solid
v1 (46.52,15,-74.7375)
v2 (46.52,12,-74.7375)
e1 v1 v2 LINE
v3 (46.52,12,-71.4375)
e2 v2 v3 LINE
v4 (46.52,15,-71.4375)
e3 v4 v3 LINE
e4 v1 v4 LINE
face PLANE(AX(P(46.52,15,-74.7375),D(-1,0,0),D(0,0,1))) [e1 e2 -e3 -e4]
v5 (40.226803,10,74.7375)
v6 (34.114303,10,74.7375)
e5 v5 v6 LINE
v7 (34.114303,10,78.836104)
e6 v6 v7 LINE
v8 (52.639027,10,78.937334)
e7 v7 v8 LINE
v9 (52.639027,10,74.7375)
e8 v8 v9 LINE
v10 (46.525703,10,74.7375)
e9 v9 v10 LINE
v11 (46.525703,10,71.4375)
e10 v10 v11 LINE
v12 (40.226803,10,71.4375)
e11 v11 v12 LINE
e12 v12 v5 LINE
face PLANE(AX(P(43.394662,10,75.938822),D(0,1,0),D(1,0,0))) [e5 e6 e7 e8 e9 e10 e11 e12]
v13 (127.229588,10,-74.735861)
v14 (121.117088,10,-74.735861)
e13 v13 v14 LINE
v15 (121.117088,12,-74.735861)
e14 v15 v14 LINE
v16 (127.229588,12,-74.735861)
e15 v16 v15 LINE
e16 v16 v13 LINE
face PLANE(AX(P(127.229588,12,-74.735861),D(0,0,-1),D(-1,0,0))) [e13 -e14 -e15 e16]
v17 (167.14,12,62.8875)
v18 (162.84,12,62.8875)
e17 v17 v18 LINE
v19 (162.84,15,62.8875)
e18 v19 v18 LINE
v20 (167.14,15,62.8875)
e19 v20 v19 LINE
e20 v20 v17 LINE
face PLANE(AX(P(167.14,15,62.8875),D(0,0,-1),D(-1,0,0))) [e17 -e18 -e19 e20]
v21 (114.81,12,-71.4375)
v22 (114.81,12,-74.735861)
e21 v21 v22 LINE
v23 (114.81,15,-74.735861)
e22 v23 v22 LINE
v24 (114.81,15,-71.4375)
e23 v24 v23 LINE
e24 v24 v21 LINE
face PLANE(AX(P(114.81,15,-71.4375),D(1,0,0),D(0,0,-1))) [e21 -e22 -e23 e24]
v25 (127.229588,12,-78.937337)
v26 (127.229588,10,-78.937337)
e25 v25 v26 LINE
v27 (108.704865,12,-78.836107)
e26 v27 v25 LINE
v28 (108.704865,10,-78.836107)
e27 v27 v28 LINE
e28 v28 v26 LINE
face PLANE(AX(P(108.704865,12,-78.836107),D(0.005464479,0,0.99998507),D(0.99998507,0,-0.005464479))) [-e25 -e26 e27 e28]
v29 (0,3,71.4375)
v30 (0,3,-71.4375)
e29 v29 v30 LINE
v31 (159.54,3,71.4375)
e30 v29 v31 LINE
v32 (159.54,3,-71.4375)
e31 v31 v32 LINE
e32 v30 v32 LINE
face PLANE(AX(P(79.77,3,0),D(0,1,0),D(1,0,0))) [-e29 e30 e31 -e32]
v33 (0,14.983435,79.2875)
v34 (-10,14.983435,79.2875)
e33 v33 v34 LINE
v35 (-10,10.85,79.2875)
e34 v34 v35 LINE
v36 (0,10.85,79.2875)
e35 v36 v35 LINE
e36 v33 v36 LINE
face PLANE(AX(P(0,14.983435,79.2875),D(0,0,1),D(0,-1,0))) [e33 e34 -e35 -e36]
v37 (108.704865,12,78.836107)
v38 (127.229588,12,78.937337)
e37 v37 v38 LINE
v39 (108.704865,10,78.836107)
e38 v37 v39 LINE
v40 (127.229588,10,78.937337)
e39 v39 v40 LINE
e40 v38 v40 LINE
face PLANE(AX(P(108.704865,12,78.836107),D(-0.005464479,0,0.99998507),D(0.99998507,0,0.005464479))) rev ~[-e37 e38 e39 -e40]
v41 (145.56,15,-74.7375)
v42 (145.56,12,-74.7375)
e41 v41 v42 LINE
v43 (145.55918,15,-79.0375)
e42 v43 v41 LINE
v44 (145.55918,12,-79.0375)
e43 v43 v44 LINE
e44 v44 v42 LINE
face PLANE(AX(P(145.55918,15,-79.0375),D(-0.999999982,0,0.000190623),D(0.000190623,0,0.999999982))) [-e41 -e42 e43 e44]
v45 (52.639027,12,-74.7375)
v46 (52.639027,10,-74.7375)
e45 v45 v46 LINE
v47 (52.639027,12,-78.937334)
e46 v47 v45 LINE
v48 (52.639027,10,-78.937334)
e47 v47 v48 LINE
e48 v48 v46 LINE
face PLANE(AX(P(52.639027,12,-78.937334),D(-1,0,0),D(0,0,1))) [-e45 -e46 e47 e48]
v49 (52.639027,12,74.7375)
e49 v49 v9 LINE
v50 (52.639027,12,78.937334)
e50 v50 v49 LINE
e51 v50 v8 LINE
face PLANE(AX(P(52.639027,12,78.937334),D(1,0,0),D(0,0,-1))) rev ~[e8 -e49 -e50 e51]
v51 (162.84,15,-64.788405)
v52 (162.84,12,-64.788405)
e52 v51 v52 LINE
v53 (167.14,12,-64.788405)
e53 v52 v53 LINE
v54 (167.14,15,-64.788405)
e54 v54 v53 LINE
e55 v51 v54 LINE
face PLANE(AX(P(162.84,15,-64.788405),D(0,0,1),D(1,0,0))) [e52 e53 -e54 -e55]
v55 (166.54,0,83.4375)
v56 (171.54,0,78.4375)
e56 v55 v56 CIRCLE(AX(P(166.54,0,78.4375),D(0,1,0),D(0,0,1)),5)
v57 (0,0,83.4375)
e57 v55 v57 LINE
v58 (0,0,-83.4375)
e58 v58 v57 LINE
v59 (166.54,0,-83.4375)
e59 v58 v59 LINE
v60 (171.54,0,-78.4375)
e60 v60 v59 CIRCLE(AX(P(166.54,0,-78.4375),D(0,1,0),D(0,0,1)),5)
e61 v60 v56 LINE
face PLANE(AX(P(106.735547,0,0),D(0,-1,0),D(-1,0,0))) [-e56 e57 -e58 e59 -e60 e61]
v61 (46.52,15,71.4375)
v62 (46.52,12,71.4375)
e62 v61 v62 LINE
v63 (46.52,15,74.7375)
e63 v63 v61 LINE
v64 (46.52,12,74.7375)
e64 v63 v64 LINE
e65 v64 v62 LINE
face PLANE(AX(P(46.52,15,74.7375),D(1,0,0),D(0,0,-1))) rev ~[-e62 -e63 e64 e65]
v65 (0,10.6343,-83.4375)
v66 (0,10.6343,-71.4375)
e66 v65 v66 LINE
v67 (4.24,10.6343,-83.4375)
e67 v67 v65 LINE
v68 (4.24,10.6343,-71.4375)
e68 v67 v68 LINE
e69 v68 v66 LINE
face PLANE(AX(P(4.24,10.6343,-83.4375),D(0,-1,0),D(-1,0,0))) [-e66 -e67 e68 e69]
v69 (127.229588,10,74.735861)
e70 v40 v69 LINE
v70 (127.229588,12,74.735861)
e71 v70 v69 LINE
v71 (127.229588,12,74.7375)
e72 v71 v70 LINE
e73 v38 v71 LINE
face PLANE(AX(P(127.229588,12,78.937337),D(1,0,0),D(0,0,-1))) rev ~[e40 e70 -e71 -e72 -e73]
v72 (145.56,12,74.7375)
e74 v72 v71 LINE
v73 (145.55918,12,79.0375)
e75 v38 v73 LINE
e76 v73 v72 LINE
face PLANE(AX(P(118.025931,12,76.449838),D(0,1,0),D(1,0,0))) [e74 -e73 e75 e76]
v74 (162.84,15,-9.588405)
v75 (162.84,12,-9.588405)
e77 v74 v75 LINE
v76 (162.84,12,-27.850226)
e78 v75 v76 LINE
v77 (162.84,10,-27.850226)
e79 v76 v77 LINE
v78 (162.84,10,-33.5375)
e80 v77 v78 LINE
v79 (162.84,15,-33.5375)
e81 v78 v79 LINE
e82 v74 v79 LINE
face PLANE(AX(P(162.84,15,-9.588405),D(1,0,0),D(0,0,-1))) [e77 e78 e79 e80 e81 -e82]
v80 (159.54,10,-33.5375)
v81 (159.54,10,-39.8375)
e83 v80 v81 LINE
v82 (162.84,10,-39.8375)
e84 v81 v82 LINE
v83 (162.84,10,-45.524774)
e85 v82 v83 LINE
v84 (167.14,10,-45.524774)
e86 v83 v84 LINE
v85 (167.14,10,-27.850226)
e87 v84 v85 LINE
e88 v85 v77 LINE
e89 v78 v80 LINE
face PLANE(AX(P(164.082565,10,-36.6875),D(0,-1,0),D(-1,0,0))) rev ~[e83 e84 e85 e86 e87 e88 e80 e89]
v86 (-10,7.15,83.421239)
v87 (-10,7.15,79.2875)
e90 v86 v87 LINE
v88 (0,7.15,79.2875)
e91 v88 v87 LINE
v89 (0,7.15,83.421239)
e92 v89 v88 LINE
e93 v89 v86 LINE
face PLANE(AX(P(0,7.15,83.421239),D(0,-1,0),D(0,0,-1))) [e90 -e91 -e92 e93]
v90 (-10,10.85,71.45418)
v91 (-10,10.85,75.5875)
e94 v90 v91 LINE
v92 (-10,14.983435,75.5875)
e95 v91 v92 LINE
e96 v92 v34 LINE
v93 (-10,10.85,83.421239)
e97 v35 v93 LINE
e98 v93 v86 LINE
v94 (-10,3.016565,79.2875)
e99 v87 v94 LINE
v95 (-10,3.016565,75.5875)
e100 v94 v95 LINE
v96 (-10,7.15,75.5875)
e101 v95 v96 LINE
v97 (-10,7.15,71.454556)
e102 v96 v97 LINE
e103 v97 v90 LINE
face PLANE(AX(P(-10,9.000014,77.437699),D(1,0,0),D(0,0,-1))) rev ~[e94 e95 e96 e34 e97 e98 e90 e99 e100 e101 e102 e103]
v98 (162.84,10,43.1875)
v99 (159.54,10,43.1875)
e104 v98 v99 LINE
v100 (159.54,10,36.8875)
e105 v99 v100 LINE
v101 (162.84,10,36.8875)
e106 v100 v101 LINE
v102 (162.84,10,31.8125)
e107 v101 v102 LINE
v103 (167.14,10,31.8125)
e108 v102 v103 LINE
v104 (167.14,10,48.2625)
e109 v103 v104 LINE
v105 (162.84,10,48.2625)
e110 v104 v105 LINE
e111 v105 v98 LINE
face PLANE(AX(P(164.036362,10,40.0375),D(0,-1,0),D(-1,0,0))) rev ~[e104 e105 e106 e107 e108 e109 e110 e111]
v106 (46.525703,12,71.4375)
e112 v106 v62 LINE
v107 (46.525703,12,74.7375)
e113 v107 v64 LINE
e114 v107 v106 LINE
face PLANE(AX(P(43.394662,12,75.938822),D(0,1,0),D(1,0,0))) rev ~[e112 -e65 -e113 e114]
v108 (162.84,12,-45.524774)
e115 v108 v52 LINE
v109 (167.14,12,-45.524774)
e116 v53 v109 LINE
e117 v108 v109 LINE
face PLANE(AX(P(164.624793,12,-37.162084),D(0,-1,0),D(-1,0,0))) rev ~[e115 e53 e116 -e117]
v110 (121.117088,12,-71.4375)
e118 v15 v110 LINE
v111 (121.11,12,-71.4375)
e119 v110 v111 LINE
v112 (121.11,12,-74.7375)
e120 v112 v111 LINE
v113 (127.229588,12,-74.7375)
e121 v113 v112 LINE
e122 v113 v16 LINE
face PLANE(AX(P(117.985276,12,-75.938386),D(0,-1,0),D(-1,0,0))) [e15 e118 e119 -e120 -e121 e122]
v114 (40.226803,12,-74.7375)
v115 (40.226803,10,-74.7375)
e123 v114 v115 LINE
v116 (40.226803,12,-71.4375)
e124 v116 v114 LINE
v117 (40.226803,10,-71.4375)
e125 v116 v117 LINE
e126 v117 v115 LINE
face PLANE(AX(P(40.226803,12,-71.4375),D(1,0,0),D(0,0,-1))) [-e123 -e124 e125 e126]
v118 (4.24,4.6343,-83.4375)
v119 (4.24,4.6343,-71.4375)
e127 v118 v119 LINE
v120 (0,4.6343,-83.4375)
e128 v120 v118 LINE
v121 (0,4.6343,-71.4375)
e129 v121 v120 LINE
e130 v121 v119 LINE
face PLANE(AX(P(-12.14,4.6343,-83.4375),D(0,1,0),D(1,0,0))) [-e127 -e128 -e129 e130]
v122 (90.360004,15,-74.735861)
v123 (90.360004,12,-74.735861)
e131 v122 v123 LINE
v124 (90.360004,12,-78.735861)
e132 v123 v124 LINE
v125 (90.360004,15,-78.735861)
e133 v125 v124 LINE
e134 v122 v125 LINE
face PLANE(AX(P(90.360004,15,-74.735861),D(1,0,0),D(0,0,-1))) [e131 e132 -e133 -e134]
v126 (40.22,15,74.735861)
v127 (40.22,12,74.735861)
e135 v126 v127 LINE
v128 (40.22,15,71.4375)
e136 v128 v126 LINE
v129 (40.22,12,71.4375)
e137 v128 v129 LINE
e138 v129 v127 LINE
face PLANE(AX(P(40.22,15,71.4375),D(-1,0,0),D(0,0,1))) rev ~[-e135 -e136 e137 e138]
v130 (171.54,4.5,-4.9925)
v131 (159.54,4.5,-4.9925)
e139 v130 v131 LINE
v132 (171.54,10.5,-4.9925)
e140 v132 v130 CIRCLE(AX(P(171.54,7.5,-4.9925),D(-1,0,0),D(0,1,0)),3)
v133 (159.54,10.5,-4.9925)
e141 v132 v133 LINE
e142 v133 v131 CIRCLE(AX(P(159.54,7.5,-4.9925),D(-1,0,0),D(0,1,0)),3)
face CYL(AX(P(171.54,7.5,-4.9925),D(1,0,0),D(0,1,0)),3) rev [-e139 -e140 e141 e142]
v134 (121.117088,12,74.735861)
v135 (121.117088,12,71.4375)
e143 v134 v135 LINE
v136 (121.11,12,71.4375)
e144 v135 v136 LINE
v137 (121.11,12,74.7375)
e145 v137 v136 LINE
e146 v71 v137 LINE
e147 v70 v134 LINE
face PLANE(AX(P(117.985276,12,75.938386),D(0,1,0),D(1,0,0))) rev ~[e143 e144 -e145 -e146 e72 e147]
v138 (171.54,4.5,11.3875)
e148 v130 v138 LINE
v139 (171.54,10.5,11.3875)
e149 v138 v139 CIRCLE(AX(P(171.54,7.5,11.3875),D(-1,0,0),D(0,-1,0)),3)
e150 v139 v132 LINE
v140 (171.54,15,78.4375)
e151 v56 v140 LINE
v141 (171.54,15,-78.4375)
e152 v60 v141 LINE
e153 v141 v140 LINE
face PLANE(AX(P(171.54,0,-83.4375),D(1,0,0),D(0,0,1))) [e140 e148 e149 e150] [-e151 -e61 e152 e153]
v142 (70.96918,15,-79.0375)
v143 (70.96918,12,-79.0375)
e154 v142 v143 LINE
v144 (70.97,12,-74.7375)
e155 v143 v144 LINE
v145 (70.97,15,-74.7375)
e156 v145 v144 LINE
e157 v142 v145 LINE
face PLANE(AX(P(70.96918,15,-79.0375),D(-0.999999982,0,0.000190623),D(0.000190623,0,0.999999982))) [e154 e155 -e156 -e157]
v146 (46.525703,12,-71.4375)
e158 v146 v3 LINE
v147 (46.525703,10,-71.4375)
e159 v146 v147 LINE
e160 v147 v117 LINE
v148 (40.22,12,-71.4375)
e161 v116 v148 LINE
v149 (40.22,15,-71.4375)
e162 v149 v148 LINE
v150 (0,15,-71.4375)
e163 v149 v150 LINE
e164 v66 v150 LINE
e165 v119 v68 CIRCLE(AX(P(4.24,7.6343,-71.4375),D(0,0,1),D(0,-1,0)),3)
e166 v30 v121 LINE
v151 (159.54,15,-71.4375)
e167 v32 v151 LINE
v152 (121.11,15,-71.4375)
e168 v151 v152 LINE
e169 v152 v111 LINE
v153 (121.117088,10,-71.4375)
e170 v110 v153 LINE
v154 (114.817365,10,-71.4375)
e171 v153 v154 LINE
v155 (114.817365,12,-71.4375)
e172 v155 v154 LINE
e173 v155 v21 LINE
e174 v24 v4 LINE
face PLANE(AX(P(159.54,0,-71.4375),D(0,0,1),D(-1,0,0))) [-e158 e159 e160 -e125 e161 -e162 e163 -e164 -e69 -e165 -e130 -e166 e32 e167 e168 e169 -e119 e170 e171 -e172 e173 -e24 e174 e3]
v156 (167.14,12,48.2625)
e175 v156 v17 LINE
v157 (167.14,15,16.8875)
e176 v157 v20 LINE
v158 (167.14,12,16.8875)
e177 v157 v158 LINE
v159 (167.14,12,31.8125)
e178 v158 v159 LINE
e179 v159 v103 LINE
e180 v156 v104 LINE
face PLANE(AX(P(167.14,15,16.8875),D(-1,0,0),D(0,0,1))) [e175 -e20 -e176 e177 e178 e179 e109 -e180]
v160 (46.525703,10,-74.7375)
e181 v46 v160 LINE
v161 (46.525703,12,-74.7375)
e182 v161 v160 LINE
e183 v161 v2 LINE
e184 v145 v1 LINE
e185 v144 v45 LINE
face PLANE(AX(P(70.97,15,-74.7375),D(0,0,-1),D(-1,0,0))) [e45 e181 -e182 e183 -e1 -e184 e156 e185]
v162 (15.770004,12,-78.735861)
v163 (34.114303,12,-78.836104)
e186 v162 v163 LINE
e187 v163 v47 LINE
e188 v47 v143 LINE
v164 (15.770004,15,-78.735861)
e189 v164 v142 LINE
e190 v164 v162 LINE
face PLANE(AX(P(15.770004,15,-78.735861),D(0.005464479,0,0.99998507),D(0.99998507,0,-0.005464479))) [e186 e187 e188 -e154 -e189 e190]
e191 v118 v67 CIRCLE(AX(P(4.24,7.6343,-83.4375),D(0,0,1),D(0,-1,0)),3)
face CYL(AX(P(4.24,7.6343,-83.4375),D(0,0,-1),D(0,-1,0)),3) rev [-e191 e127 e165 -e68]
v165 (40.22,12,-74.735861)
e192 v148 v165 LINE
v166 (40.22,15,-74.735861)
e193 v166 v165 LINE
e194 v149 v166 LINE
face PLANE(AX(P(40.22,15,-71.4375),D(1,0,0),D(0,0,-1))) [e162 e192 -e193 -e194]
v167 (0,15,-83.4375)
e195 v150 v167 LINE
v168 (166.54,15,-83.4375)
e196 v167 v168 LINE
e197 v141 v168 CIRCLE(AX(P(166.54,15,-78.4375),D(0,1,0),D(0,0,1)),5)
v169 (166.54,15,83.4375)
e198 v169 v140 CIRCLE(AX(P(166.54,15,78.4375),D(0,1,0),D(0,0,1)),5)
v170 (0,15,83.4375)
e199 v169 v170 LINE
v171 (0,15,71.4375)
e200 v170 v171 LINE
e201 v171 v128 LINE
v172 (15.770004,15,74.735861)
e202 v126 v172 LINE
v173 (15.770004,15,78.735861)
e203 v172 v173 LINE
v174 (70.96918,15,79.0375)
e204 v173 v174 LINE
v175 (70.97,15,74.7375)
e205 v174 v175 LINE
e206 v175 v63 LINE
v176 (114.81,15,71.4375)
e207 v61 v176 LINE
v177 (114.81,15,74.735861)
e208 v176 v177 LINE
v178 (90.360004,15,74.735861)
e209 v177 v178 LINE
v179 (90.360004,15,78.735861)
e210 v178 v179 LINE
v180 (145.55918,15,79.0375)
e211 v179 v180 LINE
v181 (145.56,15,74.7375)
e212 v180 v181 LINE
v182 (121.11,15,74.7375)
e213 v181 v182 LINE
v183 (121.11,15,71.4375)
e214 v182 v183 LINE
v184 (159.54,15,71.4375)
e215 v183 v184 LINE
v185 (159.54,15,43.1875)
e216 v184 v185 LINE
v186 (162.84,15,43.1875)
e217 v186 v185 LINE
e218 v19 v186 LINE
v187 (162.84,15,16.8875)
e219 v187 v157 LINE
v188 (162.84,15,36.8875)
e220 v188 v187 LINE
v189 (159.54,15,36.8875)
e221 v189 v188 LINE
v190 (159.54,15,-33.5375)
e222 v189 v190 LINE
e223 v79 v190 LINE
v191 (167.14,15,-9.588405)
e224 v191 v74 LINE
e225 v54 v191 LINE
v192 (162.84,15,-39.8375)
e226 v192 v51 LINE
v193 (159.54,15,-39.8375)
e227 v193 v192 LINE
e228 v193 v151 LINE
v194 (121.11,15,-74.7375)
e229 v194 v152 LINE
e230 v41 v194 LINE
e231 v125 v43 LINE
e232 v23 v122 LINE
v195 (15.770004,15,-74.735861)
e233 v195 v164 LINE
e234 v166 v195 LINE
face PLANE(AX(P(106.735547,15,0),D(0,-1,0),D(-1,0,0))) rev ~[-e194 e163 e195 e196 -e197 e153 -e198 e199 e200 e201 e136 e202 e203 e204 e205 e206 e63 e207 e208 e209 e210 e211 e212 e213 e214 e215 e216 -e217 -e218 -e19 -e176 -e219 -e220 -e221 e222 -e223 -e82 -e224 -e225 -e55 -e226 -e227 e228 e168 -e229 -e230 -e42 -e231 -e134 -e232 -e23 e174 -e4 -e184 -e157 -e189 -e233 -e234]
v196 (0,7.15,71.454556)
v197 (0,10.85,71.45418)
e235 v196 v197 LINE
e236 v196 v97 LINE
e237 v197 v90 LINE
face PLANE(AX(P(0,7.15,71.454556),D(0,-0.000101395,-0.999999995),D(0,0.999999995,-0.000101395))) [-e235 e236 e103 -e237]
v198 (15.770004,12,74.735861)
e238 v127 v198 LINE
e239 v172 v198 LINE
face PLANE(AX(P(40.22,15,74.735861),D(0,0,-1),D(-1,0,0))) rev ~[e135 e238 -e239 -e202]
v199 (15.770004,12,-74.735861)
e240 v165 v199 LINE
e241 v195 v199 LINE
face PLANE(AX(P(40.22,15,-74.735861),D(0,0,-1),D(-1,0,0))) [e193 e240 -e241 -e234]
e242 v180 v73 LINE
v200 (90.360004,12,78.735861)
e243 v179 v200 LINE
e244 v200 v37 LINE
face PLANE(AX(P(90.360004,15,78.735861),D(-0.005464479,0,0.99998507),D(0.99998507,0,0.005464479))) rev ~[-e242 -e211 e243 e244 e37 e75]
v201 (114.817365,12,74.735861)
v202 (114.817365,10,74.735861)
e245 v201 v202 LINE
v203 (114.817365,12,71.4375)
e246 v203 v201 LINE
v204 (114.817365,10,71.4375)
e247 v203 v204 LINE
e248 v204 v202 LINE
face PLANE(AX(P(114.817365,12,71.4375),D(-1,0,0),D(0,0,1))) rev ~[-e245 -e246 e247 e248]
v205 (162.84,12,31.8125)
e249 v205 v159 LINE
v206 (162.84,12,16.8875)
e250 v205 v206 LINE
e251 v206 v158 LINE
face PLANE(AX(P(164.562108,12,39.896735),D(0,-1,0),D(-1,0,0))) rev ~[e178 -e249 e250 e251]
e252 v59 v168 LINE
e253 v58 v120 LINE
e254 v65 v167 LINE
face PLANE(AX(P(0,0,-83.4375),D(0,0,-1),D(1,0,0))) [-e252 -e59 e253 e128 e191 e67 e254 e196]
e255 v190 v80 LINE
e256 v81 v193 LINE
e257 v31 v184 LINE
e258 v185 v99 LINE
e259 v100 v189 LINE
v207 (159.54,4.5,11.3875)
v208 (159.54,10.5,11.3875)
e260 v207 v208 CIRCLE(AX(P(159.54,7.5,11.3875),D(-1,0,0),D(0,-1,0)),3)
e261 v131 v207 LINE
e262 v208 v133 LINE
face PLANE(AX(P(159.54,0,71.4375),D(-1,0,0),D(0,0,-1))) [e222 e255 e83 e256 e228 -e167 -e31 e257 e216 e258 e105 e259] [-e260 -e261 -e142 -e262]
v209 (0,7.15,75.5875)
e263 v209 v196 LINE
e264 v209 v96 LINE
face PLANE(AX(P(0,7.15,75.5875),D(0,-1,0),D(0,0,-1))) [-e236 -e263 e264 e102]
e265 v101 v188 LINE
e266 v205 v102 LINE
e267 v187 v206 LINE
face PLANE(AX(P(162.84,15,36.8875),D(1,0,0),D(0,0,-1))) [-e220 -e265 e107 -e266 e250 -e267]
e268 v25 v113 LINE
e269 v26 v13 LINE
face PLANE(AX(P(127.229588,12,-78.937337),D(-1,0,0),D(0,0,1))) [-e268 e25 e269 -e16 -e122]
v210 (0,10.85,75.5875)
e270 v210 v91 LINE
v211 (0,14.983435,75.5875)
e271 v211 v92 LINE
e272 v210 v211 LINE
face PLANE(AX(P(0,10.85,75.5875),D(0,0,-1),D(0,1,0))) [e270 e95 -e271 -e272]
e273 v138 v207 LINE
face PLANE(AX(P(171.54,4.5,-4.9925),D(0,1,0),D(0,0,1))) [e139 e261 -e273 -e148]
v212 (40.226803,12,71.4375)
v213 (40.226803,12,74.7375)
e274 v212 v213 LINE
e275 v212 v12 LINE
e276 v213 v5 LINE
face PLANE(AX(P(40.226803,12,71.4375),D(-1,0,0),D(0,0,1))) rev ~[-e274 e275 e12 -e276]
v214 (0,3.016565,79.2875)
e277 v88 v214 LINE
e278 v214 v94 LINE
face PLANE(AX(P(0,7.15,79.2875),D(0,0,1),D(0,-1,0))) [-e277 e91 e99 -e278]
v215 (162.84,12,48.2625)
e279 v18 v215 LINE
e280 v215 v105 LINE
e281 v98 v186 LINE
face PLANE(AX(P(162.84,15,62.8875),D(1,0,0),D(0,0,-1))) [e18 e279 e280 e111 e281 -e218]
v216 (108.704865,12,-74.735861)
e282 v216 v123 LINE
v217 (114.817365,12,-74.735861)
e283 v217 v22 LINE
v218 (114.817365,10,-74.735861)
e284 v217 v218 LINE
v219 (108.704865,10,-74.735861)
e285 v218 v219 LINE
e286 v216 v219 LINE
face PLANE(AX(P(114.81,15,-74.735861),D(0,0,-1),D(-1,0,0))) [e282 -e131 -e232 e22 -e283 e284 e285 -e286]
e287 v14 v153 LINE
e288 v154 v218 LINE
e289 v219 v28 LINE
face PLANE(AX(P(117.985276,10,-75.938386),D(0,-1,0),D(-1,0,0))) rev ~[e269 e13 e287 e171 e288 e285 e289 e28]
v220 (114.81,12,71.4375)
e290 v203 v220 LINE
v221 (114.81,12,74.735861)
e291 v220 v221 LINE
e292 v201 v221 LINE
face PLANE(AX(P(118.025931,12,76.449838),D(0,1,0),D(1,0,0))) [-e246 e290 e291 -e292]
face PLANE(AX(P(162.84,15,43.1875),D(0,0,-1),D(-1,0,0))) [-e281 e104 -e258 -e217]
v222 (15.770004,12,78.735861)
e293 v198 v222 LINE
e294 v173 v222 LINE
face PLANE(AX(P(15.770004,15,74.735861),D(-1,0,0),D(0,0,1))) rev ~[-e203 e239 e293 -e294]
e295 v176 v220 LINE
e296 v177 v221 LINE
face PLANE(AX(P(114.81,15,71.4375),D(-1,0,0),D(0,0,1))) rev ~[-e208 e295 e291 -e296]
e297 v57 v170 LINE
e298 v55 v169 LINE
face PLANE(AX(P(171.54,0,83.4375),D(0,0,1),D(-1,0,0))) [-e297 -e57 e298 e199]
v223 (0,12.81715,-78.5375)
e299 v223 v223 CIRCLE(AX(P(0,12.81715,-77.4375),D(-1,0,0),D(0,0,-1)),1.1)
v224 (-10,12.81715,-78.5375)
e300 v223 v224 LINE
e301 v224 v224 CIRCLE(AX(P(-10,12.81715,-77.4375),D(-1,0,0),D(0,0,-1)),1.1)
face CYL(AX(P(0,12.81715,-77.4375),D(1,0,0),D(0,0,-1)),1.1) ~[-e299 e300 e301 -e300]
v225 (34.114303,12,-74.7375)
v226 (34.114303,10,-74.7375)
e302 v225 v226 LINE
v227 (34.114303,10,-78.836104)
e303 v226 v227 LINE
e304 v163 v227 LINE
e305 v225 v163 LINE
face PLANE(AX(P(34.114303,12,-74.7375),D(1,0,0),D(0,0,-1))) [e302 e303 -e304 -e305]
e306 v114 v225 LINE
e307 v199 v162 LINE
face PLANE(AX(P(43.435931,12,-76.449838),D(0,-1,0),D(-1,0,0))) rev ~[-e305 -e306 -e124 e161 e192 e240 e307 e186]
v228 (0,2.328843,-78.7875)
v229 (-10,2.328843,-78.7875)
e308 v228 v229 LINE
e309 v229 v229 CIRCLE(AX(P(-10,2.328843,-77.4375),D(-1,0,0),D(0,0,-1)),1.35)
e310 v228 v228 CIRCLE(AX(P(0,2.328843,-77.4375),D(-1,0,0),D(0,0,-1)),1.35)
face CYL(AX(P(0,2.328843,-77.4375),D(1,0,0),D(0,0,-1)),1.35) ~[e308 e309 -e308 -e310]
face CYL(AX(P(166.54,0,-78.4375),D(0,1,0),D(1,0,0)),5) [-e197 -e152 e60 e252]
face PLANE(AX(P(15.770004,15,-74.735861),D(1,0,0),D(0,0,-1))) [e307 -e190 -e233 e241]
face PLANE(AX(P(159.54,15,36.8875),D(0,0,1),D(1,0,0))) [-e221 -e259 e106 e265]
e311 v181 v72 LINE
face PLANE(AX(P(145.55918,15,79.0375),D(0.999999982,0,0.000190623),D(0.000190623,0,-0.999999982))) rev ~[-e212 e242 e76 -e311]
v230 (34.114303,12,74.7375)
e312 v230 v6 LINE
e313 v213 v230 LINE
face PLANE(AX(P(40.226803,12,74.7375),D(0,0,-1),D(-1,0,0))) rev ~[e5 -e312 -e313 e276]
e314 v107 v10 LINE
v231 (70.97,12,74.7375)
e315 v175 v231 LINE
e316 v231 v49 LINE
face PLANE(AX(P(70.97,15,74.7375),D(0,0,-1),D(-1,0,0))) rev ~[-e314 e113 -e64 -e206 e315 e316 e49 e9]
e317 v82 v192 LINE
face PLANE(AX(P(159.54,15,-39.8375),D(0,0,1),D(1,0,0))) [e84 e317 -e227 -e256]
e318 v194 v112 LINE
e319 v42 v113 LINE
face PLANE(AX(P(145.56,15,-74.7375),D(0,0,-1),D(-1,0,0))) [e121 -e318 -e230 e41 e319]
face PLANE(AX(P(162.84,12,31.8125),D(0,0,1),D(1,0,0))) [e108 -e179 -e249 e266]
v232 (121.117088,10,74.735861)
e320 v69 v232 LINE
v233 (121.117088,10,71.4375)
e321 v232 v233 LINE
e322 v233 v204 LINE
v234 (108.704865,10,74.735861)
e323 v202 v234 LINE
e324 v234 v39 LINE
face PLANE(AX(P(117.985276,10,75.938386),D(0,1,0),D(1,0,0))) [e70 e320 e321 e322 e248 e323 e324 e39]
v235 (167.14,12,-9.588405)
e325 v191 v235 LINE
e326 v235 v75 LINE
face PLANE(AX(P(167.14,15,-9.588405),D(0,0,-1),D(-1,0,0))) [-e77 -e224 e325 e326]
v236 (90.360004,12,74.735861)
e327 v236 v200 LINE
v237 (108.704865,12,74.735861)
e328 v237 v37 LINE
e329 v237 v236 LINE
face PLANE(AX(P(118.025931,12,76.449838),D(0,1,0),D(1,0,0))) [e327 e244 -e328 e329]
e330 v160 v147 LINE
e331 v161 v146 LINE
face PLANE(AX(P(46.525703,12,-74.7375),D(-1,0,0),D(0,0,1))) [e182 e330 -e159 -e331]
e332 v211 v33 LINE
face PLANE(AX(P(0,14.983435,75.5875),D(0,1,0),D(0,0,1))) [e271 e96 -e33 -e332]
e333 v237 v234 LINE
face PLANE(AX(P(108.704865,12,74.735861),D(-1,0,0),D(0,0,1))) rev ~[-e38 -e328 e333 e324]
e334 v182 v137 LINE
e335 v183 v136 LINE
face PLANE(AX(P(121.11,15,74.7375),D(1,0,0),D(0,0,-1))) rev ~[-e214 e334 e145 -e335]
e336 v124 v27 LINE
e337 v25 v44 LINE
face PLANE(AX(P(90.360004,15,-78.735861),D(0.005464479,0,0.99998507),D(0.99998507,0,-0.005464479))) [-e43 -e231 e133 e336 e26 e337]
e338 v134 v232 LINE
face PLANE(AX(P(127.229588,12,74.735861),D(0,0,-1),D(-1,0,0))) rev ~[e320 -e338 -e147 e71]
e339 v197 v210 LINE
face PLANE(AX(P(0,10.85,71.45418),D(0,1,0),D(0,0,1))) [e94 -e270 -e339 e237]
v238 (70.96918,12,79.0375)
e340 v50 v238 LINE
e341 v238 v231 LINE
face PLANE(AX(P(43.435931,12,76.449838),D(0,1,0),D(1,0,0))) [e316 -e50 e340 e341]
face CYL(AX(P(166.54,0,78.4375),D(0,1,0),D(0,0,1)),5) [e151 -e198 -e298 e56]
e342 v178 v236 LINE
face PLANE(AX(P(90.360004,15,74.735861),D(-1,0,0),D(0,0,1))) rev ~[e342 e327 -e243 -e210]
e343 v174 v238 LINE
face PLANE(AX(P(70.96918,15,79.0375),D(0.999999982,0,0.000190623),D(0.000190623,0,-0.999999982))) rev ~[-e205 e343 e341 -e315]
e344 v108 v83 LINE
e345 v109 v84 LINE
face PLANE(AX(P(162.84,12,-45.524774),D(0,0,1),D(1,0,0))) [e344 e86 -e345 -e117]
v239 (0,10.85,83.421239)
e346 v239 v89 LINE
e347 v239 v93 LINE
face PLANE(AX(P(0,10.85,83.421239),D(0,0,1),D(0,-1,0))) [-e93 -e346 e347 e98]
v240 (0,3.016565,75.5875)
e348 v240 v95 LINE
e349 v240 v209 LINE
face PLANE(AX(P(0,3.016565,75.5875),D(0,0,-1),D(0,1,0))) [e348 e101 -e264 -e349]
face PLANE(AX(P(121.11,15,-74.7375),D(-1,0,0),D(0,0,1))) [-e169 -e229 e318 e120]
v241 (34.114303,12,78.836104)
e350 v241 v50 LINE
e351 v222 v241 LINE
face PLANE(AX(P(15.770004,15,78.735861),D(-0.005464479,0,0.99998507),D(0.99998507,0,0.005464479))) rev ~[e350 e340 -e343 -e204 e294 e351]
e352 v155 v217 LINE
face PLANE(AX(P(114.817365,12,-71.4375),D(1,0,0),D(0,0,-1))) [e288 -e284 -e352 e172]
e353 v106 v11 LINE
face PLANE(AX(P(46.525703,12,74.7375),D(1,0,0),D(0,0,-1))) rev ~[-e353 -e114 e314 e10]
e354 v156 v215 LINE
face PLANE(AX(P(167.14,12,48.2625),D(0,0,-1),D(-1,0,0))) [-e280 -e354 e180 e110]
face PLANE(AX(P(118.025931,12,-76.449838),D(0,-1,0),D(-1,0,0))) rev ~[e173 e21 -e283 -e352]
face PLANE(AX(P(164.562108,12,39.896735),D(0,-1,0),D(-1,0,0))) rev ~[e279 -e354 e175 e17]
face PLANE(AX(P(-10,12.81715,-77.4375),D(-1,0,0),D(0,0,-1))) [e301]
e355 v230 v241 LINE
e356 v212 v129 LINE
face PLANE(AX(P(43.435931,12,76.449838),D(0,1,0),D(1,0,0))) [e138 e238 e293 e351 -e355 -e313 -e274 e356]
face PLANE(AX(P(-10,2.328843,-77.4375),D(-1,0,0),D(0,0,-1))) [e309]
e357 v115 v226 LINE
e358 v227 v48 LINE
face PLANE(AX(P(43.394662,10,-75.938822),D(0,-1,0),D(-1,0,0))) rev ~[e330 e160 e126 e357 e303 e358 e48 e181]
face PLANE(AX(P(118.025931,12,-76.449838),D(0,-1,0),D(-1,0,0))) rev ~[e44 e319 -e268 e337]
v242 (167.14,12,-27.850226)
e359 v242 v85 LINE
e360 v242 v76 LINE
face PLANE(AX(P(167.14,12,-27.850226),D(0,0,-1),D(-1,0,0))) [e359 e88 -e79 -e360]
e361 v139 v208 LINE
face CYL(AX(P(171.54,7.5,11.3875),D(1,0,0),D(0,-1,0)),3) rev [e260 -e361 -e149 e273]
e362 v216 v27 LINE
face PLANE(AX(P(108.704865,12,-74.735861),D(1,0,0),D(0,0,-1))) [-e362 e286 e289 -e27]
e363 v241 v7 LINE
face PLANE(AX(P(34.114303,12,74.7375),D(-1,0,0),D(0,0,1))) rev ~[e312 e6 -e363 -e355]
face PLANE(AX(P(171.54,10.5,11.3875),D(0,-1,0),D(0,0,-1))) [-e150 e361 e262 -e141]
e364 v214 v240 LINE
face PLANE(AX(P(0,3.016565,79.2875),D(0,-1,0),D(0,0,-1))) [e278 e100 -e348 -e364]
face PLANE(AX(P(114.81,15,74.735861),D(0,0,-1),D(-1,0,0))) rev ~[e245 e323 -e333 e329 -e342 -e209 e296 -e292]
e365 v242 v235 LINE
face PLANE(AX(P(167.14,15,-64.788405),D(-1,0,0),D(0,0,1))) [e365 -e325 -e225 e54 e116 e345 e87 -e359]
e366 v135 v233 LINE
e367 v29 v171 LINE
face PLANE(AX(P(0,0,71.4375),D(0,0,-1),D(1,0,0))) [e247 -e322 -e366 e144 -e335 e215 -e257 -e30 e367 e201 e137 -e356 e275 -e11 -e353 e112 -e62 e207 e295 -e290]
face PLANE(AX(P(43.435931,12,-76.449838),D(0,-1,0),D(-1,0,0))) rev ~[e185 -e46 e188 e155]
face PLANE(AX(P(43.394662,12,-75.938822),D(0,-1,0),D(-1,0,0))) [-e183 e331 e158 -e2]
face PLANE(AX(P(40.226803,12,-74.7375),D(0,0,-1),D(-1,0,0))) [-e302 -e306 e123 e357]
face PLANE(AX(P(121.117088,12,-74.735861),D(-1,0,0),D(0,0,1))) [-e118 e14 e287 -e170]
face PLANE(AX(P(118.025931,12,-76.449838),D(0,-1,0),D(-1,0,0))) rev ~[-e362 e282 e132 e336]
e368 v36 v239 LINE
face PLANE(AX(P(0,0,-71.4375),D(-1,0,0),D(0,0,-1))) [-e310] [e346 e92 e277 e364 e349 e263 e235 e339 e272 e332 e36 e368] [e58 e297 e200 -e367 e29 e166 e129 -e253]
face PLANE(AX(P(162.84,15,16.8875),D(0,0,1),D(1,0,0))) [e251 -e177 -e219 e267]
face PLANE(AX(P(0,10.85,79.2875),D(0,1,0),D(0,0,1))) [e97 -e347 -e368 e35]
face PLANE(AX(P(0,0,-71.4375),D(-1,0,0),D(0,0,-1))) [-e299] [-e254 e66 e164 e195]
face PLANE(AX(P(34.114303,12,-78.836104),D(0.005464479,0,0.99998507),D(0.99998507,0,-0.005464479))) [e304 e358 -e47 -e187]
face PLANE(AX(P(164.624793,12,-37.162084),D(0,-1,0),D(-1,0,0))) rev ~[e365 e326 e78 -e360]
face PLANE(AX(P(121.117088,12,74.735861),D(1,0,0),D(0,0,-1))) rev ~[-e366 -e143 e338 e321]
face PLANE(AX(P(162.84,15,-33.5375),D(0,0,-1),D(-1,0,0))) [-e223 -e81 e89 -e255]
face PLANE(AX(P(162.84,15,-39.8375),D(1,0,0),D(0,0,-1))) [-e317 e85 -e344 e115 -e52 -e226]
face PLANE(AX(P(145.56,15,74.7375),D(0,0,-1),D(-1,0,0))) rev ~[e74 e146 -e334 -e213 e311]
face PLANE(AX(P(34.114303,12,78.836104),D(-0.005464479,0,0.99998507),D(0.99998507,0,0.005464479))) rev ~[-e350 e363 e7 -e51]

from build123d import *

# Parameters (mm, degrees)
SKETCH1_W           = 159.54
SKETCH1_H           = 142.875
BOSS_EXTRUDE1_DEPTH = 3
BOSS_EXTRUDE2_DEPTH = 15
CUT_EXTRUDE1_DEPTH  = 3
CUT_EXTRUDE2_DEPTH  = 2
CUT_EXTRUDE3_DEPTH  = 12
CUT_EXTRUDE4_DEPTH  = 12
SKETCH8_R           = 1.1
SKETCH8_R_2         = 1.35
BOSS_EXTRUDE3_DEPTH = 10
BOSS_EXTRUDE5_DEPTH = 10
FILLET3_R           = 5
FILLET4_R           = 5


with BuildPart() as part:
    # Sketch1 → Boss-Extrude1 (new body)
    with BuildSketch(Plane(origin=(0, 0, 0), x_dir=(1, 0, 0), z_dir=(0, 1, 0))):
        with Locations((79.77, 0)):
            Rectangle(SKETCH1_W, SKETCH1_H)
    extrude(amount=BOSS_EXTRUDE1_DEPTH)

    # Sketch3 → Boss-Extrude2 (add)
    with BuildSketch(Plane(origin=(0, 0, 0), x_dir=(1, 0, 0), z_dir=(0, 1, 0))):
        Polygon((0, 71.4375), (0, 83.4375), (171.54, 83.4375), (171.54, -83.4375), (0, -83.4375), (0, -71.4375), (159.54, -71.4375), (159.54, 71.4375), align=None)
    extrude(amount=BOSS_EXTRUDE2_DEPTH)

    # Sketch4 → Cut-Extrude1 (cut)
    with BuildSketch(Plane(origin=(0, 15, 0), x_dir=(1, 0, 0), z_dir=(0, 1, 0))):
        Polygon((46.52, 74.7375), (46.52, 71.4375), (40.22, 71.4375), (40.22, 74.735860656), (15.770004479, 74.735860656), (15.770004479, 78.735860656), (70.969180322, 79.037499922), (70.97, 74.7375), align=None)
        Polygon((121.11, 74.7375), (121.11, 71.4375), (114.81, 71.4375), (114.81, 74.735860656), (90.360004479, 74.735860656), (90.360004479, 78.735860656), (145.559180322, 79.037499922), (145.56, 74.7375), align=None)
        Polygon((145.56, -74.7375), (121.11, -74.7375), (121.11, -71.4375), (114.81, -71.4375), (114.81, -74.735860656), (90.360004479, -74.735860656), (90.360004479, -78.735860656), (145.559180322, -79.037499922), align=None)
        Polygon((70.97, -74.7375), (46.52, -74.7375), (46.52, -71.4375), (40.22, -71.4375), (40.22, -74.735860656), (15.770004479, -74.735860656), (15.770004479, -78.735860656), (70.969180322, -79.037499922), align=None)
        Polygon((159.54, -36.8875), (162.84, -36.8875), (162.84, -16.8875), (167.14, -16.8875), (167.14, -62.8875), (162.84, -62.8875), (162.84, -43.1875), (159.54, -43.1875), align=None)
        Polygon((159.54, 39.8375), (162.84, 39.8375), (162.84, 64.788405135), (167.14, 64.788405135), (167.14, 9.588405135), (162.84, 9.588405135), (162.84, 33.5375), (159.54, 33.5375), align=None)
    extrude(amount=-CUT_EXTRUDE1_DEPTH, mode=Mode.SUBTRACT)

    # Sketch5 → Cut-Extrude2 (cut)
    with BuildSketch(Plane(origin=(0, 12, 0), x_dir=(1, 0, 0), z_dir=(0, 1, 0))):
        Polygon((40.226803468, -71.4375), (40.226803468, -74.7375), (34.114303468, -74.7375), (34.114303468, -78.836104198), (52.639026882, -78.93733368), (52.639026882, -74.7375), (46.525702928, -74.7375), (46.525702928, -71.4375), align=None)
        Polygon((114.817365037, -74.735860656), (108.704865037, -74.735860656), (108.704865037, -78.836107266), (127.229588452, -78.937336748), (127.229588452, -74.735860656), (121.117088452, -74.735860656), (121.117088452, -71.4375), (114.817365037, -71.4375), align=None)
        Polygon((114.817365037, 71.4375), (114.817365037, 74.735860656), (108.704865037, 74.735860656), (108.704865037, 78.836107266), (127.229588452, 78.937336748), (127.229588452, 74.735860656), (121.117088452, 74.735860656), (121.117088452, 71.4375), align=None)
        Polygon((46.525702928, 71.4375), (40.226803468, 71.4375), (40.226803468, 74.7375), (34.114303468, 74.7375), (34.114303468, 78.836104198), (52.639026882, 78.93733368), (52.639026882, 74.7375), (46.525702928, 74.7375), align=None)
        Polygon((162.84, -31.8125), (167.14, -31.8125), (167.14, -48.2625), (162.84, -48.2625), (162.84, -43.1875), (159.54, -43.1875), (159.54, -36.8875), (162.84, -36.8875), align=None)
        Polygon((159.54, 39.8375), (162.84, 39.8375), (162.84, 45.524773716), (167.14, 45.524773716), (167.14, 27.850226284), (162.84, 27.850226284), (162.84, 33.5375), (159.54, 33.5375), align=None)
    extrude(amount=-CUT_EXTRUDE2_DEPTH, mode=Mode.SUBTRACT)

    # Sketch6 → Cut-Extrude3 (cut)
    with BuildSketch(Plane(origin=(171.54, 0, 0), x_dir=(0, 0, -1), z_dir=(1, 0, 0))):
        with BuildLine():
            Line((-11.3875, 10.5), (4.9925, 10.5))
            ThreePointArc((4.9925, 10.5), (7.9925, 7.5), (4.9925, 4.5))
            Line((4.9925, 4.5), (-11.3875, 4.5))
            ThreePointArc((-11.3875, 4.5), (-14.3875, 7.5), (-11.3875, 10.5))
        make_face()
    extrude(amount=-CUT_EXTRUDE3_DEPTH, mode=Mode.SUBTRACT)

    # Sketch7 → Cut-Extrude4 (cut)
    with BuildSketch(Plane(origin=(0, 0, -83.4375), x_dir=(-1, 0, 0), z_dir=(0, 0, -1))):
        with BuildLine():
            Line((-4.24, 10.6343), (12.14, 10.6343))
            ThreePointArc((12.14, 10.6343), (15.14, 7.6343), (12.14, 4.6343))
            Line((12.14, 4.6343), (-4.24, 4.6343))
            ThreePointArc((-4.24, 4.6343), (-7.24, 7.6343), (-4.24, 10.6343))
        make_face()
    extrude(amount=-CUT_EXTRUDE4_DEPTH, mode=Mode.SUBTRACT)

    # Sketch8 → Boss-Extrude3 (add)
    with BuildSketch(Plane.ZY):
        with Locations(Location((-77.4375, 12.81715, 0), (0, 0, 180))):
            Circle(SKETCH8_R)
        with Locations(Location((-77.4375, 2.328843142, 0), (0, 0, 180))):
            Circle(SKETCH8_R_2)
    extrude(amount=BOSS_EXTRUDE3_DEPTH)

    # Sketch9 → Boss-Extrude5 (add)
    with BuildSketch(Plane.ZY):
        Polygon((75.5875, 14.9834354), (79.2875, 14.9834354), (79.2875, 10.85), (83.421238753, 10.85), (83.421238753, 7.15), (79.2875, 7.15), (79.2875, 3.0165646), (75.5875, 3.0165646), (75.5875, 7.15000001), (71.454555518, 7.15000001), (71.454180357, 10.84999999), (75.5875, 10.84999999), align=None)
    extrude(amount=BOSS_EXTRUDE5_DEPTH)

    # Fillet3
    fillet3_edges = [part.edges().sort_by_distance(p)[0] for p in [
        (171.54, 7.5, 83.4375),
    ]]
    fillet(fillet3_edges, radius=FILLET3_R)

    # Fillet4
    fillet4_edges = [part.edges().sort_by_distance(p)[0] for p in [
        (171.54, 7.5, -83.4375),
    ]]
    fillet(fillet4_edges, radius=FILLET4_R)


solid = part.part
